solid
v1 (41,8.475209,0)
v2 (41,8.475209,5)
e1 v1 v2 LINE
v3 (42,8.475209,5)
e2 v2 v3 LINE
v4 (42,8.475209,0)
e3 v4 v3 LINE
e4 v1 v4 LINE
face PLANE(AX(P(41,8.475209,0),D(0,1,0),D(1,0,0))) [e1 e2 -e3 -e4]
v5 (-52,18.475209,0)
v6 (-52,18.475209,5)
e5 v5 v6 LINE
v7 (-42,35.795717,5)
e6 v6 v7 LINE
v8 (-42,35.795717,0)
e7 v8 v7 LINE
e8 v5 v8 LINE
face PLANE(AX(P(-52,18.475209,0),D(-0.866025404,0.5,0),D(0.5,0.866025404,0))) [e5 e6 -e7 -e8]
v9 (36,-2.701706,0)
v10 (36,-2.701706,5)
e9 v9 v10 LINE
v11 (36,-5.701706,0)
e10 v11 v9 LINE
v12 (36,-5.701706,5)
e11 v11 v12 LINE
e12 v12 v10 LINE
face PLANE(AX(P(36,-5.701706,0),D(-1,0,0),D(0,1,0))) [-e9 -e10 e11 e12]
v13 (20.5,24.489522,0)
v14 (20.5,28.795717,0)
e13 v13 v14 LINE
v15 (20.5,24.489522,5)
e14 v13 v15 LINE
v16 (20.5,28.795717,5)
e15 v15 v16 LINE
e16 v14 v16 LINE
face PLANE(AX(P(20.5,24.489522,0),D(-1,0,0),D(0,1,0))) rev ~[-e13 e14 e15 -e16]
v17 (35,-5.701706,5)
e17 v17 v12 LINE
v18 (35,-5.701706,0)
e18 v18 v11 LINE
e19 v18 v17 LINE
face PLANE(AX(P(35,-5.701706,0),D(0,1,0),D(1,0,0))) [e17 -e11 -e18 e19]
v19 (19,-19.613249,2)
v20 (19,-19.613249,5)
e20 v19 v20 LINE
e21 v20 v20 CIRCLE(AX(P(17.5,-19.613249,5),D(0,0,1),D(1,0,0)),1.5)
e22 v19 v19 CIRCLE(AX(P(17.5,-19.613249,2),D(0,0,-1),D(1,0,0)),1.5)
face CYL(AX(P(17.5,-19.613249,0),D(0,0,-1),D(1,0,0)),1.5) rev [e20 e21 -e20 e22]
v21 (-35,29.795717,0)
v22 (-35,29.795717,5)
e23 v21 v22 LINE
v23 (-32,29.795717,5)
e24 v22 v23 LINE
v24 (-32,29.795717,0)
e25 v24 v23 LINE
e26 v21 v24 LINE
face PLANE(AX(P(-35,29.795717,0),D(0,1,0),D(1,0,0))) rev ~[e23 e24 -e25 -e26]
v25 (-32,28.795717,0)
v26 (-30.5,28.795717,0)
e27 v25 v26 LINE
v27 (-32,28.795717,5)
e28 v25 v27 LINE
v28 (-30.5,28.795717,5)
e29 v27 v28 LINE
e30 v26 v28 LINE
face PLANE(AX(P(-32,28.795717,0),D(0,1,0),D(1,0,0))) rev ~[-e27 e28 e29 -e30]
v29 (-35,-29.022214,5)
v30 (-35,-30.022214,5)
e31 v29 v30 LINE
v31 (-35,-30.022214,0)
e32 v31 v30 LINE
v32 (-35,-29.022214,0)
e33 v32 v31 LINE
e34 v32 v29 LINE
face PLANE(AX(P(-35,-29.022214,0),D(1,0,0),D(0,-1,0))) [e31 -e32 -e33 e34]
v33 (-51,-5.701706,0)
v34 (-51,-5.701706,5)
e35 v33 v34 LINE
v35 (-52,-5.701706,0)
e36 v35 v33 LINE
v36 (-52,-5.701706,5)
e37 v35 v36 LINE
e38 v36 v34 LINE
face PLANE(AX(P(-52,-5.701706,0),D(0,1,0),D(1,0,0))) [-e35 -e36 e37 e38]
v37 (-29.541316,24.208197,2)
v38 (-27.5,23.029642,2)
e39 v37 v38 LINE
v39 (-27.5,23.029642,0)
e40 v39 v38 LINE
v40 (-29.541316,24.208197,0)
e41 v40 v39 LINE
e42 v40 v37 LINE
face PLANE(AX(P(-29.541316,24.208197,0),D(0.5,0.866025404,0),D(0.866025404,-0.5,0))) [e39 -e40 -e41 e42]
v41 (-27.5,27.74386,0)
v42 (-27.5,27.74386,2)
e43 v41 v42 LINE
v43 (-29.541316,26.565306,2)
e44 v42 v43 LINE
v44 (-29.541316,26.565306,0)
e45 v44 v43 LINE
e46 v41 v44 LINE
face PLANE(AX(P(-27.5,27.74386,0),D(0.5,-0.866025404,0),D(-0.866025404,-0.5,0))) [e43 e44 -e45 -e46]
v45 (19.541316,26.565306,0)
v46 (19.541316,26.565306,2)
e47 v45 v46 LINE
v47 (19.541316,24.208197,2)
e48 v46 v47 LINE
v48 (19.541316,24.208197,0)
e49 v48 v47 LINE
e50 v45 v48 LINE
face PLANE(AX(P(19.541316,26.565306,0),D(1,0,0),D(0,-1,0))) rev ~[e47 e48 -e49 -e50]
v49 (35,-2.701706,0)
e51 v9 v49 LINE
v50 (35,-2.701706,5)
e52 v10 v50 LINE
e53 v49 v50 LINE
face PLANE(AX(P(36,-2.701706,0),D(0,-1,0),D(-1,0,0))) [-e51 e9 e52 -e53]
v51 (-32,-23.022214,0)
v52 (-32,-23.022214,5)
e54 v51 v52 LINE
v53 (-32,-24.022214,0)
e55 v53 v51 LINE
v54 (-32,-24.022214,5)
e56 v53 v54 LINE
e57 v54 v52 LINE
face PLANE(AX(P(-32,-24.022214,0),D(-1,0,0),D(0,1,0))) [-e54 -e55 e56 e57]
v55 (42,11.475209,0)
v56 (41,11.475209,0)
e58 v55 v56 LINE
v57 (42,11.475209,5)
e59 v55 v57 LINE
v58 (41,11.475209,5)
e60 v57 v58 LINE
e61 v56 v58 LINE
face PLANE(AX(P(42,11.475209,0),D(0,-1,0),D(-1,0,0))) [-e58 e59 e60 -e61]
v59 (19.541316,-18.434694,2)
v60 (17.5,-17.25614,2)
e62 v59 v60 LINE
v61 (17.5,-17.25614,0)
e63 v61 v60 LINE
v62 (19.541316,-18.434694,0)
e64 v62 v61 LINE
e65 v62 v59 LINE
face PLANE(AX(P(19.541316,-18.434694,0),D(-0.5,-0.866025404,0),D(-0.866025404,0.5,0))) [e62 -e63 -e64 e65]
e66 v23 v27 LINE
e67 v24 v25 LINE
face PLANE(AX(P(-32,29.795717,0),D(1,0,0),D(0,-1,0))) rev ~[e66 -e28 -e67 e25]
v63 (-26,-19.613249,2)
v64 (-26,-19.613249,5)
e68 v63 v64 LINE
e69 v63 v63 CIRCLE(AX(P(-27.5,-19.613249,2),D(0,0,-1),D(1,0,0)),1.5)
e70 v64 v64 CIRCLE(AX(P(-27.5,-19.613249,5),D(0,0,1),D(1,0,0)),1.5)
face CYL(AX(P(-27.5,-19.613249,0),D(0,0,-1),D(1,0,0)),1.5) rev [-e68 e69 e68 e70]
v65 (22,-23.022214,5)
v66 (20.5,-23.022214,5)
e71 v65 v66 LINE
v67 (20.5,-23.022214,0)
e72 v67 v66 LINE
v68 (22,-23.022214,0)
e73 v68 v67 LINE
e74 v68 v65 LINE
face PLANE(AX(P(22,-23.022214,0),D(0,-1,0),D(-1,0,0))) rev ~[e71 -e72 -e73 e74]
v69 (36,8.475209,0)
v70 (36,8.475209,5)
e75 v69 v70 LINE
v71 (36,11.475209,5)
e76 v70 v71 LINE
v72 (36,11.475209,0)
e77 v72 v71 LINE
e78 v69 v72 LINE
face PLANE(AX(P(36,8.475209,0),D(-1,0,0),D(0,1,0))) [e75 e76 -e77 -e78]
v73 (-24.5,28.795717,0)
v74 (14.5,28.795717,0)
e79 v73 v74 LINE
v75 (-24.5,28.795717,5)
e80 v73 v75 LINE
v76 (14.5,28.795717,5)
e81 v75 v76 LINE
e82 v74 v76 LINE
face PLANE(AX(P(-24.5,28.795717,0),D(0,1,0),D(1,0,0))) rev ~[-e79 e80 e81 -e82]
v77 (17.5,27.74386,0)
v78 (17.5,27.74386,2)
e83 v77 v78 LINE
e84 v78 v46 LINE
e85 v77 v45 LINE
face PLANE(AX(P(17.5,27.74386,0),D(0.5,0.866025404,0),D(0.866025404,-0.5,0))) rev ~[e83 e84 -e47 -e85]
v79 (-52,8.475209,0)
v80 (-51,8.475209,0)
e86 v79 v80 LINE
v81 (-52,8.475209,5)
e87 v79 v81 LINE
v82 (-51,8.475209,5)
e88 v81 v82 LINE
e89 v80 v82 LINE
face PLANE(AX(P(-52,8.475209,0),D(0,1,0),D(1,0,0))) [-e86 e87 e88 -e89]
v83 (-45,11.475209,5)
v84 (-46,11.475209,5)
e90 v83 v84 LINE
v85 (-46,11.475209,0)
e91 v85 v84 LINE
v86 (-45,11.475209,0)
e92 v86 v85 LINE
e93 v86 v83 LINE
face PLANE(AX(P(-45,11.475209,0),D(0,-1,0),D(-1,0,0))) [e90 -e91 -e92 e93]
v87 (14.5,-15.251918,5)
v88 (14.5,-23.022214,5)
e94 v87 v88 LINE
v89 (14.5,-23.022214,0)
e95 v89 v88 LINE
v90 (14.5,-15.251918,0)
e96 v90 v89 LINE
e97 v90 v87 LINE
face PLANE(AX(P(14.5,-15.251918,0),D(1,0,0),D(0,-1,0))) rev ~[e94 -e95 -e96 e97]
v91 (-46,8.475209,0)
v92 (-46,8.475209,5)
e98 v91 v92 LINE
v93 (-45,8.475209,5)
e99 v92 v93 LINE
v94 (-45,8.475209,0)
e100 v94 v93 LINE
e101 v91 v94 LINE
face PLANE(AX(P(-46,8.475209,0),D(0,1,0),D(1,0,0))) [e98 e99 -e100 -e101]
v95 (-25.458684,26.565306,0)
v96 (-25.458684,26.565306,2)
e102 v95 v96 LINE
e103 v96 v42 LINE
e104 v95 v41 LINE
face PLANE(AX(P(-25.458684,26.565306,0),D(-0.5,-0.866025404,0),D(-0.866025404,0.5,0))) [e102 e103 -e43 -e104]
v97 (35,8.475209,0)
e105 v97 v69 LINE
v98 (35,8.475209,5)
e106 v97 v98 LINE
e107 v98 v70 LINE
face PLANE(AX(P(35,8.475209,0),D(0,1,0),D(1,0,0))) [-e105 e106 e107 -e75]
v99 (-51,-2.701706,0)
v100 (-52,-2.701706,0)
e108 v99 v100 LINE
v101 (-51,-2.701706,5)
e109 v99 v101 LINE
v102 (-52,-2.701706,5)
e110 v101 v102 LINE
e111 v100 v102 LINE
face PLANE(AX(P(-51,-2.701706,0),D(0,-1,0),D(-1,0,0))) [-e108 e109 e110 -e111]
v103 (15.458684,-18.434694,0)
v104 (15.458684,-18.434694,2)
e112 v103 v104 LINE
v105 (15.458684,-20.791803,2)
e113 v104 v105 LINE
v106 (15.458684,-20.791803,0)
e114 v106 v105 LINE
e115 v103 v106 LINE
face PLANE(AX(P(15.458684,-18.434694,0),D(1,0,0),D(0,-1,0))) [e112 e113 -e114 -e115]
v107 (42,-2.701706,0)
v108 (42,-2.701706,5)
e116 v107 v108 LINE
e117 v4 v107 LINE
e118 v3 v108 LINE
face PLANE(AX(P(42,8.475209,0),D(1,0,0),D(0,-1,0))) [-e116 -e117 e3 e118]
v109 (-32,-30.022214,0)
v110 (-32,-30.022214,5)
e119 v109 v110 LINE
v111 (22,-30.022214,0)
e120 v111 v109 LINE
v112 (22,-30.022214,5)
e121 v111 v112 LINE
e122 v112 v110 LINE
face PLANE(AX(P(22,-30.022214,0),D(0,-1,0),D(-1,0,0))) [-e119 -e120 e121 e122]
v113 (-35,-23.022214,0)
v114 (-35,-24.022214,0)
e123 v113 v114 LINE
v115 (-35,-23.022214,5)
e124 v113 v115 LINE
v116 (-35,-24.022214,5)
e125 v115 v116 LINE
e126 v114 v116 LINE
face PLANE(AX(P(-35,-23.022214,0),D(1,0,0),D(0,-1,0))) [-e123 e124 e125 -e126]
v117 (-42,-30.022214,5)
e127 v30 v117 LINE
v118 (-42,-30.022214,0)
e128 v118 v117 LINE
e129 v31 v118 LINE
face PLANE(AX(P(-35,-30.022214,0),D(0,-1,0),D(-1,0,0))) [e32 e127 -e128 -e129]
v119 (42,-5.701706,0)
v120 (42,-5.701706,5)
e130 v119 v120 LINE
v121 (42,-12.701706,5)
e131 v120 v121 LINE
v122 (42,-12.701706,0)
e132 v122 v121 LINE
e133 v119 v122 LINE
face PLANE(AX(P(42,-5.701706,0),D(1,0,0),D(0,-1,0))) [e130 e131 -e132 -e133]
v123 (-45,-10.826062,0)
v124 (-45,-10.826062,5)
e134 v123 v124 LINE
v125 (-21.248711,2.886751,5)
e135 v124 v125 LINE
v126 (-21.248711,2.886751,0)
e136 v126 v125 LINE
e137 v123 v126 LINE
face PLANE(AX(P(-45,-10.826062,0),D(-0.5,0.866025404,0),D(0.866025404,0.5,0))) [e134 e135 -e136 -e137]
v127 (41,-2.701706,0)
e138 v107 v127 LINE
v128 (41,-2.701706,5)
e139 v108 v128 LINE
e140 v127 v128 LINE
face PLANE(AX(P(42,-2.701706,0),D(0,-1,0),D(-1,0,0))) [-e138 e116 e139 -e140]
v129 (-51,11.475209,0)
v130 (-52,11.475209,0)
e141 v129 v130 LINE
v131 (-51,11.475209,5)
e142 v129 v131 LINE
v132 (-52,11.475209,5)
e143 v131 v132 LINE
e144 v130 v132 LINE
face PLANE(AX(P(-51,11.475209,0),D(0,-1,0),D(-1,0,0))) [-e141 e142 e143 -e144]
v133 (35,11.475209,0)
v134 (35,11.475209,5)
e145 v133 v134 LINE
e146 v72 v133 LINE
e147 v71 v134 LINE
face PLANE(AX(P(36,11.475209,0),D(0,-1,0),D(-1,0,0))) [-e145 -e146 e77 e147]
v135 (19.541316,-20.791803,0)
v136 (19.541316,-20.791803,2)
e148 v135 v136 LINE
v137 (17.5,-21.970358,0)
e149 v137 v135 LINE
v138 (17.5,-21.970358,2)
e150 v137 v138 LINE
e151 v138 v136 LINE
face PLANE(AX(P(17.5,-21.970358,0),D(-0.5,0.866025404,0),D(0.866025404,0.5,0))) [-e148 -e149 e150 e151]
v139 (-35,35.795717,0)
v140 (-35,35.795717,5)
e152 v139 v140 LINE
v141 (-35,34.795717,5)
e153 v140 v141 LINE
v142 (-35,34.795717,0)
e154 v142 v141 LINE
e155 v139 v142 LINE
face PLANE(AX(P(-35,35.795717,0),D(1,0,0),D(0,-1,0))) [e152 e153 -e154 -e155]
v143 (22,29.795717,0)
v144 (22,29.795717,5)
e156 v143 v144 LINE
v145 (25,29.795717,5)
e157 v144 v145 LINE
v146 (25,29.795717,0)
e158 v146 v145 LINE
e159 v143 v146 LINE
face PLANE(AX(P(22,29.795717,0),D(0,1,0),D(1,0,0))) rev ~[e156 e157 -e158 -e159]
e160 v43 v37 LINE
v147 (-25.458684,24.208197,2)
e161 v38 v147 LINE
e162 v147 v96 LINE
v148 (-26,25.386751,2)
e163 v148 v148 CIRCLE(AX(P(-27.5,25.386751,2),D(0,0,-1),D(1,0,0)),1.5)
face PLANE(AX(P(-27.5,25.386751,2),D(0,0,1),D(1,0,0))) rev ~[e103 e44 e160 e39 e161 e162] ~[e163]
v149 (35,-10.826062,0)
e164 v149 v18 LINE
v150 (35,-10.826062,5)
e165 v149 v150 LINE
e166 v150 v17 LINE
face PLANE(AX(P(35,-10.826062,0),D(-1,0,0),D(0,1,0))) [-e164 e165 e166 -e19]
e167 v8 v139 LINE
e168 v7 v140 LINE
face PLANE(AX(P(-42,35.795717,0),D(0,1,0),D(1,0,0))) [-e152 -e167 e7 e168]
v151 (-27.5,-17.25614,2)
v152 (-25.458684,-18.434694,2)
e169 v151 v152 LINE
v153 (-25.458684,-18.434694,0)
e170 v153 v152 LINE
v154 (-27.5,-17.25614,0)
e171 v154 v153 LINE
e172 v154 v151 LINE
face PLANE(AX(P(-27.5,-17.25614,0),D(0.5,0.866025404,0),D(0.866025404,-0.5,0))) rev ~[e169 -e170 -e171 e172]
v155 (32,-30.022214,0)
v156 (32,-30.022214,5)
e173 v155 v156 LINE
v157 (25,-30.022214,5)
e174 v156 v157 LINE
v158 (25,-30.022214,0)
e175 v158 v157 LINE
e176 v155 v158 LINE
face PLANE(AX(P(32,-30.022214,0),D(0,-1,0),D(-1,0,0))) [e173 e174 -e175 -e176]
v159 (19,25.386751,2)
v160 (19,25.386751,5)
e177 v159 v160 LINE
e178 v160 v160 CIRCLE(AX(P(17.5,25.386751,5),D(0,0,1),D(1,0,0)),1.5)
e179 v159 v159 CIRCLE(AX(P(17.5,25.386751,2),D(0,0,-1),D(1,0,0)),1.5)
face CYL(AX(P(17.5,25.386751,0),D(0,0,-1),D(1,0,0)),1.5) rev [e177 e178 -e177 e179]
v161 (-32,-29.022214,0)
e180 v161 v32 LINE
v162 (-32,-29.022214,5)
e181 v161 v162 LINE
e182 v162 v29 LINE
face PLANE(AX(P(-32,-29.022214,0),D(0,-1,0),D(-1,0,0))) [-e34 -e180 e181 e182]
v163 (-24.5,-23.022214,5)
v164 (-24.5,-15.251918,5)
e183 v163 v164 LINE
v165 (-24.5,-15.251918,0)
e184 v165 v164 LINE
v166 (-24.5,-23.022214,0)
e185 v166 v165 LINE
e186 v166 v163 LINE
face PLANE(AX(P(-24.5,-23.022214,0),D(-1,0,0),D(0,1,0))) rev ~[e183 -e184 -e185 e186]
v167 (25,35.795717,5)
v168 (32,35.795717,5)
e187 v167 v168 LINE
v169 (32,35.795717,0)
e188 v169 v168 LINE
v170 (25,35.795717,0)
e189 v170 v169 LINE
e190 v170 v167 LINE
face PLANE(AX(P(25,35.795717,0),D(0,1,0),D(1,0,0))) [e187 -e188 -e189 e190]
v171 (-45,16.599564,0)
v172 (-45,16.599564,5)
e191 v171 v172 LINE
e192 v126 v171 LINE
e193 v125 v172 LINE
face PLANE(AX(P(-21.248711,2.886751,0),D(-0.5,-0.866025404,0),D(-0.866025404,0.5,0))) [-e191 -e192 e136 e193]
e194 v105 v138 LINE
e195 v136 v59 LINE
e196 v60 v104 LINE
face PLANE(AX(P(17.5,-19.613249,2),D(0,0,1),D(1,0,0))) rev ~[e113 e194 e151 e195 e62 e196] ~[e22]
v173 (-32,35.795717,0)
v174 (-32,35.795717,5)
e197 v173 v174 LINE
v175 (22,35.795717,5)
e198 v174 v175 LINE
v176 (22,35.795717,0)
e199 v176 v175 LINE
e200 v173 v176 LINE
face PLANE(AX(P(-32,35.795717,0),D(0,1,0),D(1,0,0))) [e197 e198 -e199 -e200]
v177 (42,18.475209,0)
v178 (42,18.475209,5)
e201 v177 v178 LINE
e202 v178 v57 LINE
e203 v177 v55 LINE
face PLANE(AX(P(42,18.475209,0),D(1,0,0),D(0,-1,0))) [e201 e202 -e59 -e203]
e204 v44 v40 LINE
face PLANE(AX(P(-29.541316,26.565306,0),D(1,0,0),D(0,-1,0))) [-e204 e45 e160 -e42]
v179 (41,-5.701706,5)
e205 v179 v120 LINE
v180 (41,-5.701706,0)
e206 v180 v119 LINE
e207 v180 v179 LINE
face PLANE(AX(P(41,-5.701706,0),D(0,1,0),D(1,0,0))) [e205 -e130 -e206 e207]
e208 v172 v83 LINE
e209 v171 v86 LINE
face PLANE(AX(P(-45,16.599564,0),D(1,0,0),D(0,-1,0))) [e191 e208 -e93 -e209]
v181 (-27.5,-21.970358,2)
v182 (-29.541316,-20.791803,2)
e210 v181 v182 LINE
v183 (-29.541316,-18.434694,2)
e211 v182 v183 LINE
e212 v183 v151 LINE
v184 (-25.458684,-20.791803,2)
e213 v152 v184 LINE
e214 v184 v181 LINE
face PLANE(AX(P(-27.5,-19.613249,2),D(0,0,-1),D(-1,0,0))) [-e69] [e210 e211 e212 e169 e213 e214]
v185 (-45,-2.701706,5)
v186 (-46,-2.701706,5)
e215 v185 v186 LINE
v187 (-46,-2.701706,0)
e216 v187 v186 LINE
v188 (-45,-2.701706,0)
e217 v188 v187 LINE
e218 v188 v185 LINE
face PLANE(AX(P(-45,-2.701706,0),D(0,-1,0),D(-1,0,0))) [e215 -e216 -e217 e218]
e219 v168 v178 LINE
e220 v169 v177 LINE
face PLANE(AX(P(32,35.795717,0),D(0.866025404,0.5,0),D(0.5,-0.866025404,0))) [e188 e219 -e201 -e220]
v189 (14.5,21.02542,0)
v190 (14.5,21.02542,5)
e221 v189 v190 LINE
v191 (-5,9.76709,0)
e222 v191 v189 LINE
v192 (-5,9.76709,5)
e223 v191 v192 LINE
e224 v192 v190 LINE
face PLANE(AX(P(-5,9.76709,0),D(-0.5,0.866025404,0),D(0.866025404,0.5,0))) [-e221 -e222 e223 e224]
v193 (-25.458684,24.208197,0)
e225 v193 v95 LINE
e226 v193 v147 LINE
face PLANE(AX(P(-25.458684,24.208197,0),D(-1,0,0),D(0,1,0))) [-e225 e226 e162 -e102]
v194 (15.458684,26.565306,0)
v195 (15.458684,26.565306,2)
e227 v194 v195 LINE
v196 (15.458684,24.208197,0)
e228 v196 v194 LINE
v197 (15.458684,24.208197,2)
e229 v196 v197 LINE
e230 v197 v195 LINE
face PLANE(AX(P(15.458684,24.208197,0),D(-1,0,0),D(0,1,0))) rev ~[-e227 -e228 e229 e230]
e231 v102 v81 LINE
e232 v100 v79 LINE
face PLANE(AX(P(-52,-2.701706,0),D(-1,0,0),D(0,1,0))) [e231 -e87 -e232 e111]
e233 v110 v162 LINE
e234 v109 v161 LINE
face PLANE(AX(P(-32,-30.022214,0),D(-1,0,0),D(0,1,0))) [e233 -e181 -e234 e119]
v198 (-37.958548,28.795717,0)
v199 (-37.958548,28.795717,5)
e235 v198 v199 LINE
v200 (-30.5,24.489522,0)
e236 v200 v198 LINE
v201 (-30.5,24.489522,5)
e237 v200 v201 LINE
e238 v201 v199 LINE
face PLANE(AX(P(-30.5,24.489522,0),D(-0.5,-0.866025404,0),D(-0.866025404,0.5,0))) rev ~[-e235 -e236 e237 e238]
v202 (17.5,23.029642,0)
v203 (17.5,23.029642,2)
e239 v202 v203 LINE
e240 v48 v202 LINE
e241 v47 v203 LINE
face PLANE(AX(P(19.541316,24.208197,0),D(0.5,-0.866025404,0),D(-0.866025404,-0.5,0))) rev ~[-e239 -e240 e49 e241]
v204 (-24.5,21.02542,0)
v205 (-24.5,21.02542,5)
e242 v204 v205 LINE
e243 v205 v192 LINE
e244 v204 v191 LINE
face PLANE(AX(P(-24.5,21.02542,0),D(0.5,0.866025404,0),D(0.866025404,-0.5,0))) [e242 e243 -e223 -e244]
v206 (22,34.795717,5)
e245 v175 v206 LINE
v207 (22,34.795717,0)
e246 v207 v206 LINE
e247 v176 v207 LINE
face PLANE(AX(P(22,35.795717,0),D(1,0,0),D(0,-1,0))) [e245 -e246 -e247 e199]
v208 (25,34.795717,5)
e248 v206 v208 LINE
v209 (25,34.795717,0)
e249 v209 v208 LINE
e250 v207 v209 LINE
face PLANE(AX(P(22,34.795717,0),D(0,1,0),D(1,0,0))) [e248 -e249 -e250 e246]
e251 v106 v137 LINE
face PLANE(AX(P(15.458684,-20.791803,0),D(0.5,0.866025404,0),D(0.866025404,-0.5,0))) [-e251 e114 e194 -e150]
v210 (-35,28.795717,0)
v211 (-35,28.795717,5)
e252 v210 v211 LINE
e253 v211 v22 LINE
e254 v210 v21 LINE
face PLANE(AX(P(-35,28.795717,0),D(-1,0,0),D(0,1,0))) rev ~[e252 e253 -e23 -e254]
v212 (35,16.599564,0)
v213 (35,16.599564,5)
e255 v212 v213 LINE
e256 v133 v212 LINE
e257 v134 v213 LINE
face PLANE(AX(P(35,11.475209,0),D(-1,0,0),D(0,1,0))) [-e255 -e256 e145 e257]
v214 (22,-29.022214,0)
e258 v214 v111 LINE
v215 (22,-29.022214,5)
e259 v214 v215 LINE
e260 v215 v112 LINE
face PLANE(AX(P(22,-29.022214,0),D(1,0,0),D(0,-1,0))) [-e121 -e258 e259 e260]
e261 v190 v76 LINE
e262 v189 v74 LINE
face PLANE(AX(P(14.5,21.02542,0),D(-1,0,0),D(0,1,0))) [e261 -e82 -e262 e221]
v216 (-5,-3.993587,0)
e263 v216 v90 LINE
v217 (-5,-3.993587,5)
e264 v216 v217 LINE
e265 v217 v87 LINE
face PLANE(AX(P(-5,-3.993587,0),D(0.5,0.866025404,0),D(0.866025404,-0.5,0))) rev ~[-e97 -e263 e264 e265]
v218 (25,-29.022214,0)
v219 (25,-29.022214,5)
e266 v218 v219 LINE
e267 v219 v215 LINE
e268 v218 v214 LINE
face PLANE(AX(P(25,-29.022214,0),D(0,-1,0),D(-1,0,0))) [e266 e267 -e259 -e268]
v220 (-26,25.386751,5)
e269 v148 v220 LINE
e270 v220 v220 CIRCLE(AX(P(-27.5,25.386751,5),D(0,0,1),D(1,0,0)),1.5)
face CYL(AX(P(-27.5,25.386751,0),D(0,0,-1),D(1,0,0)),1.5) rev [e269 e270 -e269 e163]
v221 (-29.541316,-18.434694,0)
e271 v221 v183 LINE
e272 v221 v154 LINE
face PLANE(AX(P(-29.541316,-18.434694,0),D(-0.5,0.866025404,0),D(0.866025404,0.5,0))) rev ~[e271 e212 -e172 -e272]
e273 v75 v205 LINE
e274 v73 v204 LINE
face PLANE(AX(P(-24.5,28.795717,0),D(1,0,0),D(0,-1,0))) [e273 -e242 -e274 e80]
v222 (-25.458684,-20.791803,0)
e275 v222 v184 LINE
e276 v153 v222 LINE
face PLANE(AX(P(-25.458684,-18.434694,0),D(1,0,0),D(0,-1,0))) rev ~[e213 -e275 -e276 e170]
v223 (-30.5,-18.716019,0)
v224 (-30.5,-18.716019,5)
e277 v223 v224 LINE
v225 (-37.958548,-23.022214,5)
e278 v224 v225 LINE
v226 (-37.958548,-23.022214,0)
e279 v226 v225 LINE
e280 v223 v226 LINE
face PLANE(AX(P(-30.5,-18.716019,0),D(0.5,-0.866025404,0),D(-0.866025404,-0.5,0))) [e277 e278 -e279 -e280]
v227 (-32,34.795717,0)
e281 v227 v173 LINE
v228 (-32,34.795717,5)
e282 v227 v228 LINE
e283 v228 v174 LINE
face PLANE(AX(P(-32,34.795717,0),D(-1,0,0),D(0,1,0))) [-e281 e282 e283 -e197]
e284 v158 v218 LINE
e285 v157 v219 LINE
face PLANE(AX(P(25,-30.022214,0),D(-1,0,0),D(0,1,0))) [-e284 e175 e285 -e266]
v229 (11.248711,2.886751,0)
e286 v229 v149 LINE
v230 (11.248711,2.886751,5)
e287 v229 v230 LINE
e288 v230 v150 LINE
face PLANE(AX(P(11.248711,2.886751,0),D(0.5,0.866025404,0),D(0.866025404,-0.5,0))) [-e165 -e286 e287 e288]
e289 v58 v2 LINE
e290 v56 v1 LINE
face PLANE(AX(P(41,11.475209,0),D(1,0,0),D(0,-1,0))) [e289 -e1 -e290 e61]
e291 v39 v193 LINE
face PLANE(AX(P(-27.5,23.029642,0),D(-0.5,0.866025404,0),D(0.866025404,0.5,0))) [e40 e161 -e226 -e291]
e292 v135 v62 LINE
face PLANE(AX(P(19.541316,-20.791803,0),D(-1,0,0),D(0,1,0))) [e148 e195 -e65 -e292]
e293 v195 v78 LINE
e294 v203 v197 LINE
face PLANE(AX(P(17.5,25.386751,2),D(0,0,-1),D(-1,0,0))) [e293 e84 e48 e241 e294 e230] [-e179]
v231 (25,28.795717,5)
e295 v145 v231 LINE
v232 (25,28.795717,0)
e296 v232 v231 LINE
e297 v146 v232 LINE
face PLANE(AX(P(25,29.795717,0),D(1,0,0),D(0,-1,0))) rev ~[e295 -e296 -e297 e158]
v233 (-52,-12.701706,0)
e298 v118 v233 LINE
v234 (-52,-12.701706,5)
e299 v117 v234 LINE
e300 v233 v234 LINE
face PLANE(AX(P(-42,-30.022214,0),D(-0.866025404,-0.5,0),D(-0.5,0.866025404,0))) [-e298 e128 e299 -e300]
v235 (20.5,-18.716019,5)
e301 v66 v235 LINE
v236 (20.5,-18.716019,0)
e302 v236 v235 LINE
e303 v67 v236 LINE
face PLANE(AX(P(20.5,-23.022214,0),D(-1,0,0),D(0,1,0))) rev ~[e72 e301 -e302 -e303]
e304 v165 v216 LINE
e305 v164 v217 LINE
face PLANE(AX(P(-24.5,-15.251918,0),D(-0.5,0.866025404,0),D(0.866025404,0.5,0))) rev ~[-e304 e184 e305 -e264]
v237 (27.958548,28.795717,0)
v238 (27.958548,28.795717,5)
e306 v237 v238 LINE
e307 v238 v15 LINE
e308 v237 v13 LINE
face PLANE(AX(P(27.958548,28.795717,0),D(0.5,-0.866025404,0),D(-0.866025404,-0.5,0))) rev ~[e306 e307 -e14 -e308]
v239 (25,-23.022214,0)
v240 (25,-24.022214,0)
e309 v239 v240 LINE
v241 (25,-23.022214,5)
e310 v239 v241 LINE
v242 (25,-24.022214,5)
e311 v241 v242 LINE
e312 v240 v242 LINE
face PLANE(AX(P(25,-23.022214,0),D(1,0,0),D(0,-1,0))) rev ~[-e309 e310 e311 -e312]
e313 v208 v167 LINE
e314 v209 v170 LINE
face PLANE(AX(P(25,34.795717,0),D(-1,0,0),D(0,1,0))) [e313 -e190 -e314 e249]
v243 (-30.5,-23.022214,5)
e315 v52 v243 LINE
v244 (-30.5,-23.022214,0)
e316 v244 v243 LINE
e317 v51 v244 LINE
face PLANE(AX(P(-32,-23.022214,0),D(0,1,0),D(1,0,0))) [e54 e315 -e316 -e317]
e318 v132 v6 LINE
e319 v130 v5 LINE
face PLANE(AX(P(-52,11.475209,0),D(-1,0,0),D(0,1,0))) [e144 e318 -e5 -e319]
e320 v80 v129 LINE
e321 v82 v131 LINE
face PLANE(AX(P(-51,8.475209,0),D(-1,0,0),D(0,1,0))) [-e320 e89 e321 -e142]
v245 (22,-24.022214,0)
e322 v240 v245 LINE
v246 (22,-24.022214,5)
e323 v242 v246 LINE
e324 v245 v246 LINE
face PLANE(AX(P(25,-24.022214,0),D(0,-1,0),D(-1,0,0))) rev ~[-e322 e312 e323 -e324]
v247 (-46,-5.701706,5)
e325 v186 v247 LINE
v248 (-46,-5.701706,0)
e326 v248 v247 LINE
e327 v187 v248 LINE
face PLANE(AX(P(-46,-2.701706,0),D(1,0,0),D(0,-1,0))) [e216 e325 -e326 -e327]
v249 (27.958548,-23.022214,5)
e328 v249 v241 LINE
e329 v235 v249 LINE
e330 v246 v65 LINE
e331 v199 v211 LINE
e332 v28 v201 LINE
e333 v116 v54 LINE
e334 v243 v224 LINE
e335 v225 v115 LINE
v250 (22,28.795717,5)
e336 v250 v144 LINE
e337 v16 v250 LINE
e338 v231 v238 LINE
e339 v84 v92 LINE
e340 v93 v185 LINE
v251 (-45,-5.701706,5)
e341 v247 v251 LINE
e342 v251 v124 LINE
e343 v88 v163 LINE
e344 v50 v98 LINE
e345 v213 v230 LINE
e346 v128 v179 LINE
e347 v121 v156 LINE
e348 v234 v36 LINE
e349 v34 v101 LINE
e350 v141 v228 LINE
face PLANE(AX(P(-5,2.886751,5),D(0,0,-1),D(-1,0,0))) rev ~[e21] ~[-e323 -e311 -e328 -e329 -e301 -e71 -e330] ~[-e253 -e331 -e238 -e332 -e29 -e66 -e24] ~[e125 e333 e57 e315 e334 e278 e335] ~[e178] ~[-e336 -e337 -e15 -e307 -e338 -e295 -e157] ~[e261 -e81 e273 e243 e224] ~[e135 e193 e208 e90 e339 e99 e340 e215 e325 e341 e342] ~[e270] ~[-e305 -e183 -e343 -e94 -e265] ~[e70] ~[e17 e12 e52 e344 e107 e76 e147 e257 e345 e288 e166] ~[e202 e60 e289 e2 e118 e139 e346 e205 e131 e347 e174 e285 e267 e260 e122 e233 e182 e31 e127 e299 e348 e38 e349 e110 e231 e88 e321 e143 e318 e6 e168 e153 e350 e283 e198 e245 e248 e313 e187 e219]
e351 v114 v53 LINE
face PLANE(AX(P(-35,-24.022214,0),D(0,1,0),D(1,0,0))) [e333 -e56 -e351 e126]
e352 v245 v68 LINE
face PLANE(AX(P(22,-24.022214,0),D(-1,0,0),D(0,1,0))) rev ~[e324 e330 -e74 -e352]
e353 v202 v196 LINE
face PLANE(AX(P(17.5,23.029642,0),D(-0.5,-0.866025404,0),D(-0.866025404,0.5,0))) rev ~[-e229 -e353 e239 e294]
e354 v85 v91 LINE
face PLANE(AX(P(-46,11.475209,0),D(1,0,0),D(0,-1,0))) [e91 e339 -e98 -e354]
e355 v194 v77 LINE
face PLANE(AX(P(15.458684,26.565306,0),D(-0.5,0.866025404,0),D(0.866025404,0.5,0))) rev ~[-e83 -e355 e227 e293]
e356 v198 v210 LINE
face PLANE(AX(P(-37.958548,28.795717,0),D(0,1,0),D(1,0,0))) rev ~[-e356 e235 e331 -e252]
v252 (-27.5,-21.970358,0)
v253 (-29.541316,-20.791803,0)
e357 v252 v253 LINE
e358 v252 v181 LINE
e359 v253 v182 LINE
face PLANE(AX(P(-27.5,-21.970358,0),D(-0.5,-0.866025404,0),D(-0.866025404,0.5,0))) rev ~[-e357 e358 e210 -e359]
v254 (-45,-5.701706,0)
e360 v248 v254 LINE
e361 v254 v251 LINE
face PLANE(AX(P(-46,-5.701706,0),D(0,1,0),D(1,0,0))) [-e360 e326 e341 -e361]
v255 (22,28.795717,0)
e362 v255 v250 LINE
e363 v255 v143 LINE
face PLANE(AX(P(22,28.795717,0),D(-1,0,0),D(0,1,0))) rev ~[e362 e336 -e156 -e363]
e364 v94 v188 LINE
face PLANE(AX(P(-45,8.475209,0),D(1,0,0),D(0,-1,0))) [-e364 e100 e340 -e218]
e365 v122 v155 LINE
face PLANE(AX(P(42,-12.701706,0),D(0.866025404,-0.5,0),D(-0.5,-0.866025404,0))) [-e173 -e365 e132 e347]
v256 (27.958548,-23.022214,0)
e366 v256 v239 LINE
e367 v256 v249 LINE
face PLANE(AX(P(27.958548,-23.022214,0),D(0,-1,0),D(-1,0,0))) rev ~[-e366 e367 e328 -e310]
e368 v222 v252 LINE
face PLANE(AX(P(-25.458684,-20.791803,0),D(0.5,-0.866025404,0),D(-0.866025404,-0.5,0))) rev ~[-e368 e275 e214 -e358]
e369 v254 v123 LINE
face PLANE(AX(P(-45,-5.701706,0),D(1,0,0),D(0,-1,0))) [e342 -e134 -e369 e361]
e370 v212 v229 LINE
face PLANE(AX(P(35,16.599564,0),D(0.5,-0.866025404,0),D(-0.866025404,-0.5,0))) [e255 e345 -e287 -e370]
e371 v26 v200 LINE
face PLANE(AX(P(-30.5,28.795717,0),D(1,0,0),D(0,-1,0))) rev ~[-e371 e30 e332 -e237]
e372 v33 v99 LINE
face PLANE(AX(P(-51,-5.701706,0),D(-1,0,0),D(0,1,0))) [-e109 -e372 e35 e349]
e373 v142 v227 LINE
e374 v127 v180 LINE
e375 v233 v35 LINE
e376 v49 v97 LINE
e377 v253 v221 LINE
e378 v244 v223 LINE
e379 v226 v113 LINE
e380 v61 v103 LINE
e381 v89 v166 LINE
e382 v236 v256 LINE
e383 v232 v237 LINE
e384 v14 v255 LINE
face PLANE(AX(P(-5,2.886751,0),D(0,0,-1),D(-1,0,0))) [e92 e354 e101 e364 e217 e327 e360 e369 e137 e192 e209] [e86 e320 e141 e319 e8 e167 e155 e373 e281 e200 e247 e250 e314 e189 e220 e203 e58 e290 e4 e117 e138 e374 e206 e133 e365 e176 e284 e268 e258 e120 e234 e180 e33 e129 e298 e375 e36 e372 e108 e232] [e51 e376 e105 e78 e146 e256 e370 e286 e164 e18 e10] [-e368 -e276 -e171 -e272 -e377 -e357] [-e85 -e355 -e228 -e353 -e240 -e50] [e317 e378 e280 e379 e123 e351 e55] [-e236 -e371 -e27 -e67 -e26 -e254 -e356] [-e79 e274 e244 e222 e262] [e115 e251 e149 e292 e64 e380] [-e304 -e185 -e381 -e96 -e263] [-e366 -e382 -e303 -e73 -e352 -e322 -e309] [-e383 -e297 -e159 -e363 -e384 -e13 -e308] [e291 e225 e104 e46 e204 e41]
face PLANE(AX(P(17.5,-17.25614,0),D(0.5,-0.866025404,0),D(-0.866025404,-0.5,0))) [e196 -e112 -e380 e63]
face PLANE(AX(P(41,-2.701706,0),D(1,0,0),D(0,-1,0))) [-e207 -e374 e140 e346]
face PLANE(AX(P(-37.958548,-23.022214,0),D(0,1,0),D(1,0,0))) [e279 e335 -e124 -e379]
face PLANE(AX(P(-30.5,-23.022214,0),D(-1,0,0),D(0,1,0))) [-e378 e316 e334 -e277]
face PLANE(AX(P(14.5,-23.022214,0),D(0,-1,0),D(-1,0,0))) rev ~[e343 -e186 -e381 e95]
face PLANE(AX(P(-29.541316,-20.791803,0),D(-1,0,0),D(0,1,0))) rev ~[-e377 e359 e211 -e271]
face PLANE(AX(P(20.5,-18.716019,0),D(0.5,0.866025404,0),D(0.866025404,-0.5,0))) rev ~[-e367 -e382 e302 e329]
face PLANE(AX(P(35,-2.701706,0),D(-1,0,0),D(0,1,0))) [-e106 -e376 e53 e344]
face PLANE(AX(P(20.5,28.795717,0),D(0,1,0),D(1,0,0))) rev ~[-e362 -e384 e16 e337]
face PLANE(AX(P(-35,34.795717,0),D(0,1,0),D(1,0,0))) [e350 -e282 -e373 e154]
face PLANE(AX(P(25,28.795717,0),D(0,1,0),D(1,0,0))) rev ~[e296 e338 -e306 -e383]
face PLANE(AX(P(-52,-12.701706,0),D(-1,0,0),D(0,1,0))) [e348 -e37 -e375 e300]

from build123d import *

# Parameters (mm, degrees)
ESQUISSE1_R             = 1.5
BOSS_EXTRU_2_DEPTH      = 5
ENL_V_MAT_EXTRU_2_DEPTH = 2


with BuildPart() as part:
    # Esquisse1 → Boss.-Extru.2 (new body)
    with BuildSketch(Plane.XY):
        Polygon((22, -30.022213998), (-32, -30.022213998), (-32, -29.022213998), (-35, -29.022213998), (-35, -30.022213998), (-42, -30.022213998), (-52, -12.701705922), (-52, -5.701705922), (-51, -5.701705922), (-51, -2.701705922), (-52, -2.701705922), (-52, 8.475208614), (-51, 8.475208614), (-51, 11.475208614), (-52, 11.475208614), (-52, 18.475208614), (-42, 35.79571669), (-35, 35.79571669), (-35, 34.79571669), (-32, 34.79571669), (-32, 35.79571669), (22, 35.79571669), (22, 34.79571669), (25, 34.79571669), (25, 35.79571669), (32, 35.79571669), (42, 18.475208614), (42, 11.475208614), (41, 11.475208614), (41, 8.475208614), (42, 8.475208614), (42, -2.701705922), (41, -2.701705922), (41, -5.701705922), (42, -5.701705922), (42, -12.701705922), (32, -30.022213998), (25, -30.022213998), (25, -29.022213998), (22, -29.022213998), align=None)
        with Locations((17.5, 25.386751346)):
            Circle(ESQUISSE1_R, mode=Mode.SUBTRACT)
        with Locations((-27.5, 25.386751346)):
            Circle(ESQUISSE1_R, mode=Mode.SUBTRACT)
        with Locations((17.5, -19.613248654)):
            Circle(ESQUISSE1_R, mode=Mode.SUBTRACT)
        with Locations((-27.5, -19.613248654)):
            Circle(ESQUISSE1_R, mode=Mode.SUBTRACT)
        Polygon((-45, 8.475208614), (-45, -2.701705922), (-46, -2.701705922), (-46, -5.701705922), (-45, -5.701705922), (-45, -10.826061575), (-21.248711306, 2.886751346), (-45, 16.599564267), (-45, 11.475208614), (-46, 11.475208614), (-46, 8.475208614), align=None, mode=Mode.SUBTRACT)
        Polygon((35, 16.599564267), (11.248711306, 2.886751346), (35, -10.826061575), (35, -5.701705922), (36, -5.701705922), (36, -2.701705922), (35, -2.701705922), (35, 8.475208614), (36, 8.475208614), (36, 11.475208614), (35, 11.475208614), align=None, mode=Mode.SUBTRACT)
        Polygon((-37.958548116, -23.022213998), (-35, -23.022213998), (-35, -24.022213998), (-32, -24.022213998), (-32, -23.022213998), (-30.5, -23.022213998), (-30.5, -18.716019236), align=None, mode=Mode.SUBTRACT)
        Polygon((14.5, -23.022213998), (-5, -23.022213998), (-24.5, -23.022213998), (-24.5, -15.25191762), (-5, -3.993587371), (14.5, -15.25191762), align=None, mode=Mode.SUBTRACT)
        Polygon((-32, 29.79571669), (-32, 28.79571669), (-30.5, 28.79571669), (-30.5, 24.489521927), (-37.958548116, 28.79571669), (-35, 28.79571669), (-35, 29.79571669), align=None, mode=Mode.SUBTRACT)
        Polygon((27.958548116, 28.79571669), (20.5, 24.489521927), (20.5, 28.79571669), (22, 28.79571669), (22, 29.79571669), (25, 29.79571669), (25, 28.79571669), align=None, mode=Mode.SUBTRACT)
        Polygon((22, -24.022213998), (22, -23.022213998), (20.5, -23.022213998), (20.5, -18.716019236), (27.958548116, -23.022213998), (25, -23.022213998), (25, -24.022213998), align=None, mode=Mode.SUBTRACT)
        Polygon((-24.5, 28.79571669), (-24.5, 21.025420312), (-5, 9.767090063), (14.5, 21.025420312), (14.5, 28.79571669), (-5, 28.79571669), align=None, mode=Mode.SUBTRACT)
    extrude(amount=BOSS_EXTRU_2_DEPTH)

    # Esquisse4 → Enlèv. mat.-Extru.2 (cut)
    with BuildSketch(Plane(origin=(0, 0, 0), x_dir=(-1, 0, 0), z_dir=(0, 0, -1))):
        Polygon((-17.5, 23.029642358), (-15.458683737, 24.208196852), (-15.458683737, 26.56530584), (-17.5, 27.743860334), (-19.541316263, 26.56530584), (-19.541316263, 24.208196852), align=None)
        Polygon((29.541316263, 24.208196852), (27.5, 23.029642358), (25.458683737, 24.208196852), (25.458683737, 26.56530584), (27.5, 27.743860334), (29.541316263, 26.56530584), align=None)
        Polygon((27.5, -17.256139666), (25.458683737, -18.43469416), (25.458683737, -20.791803148), (27.5, -21.970357642), (29.541316263, -20.791803148), (29.541316263, -18.43469416), align=None)
        Polygon((-19.541316263, -18.43469416), (-17.5, -17.256139666), (-15.458683737, -18.43469416), (-15.458683737, -20.791803148), (-17.5, -21.970357642), (-19.541316263, -20.791803148), align=None)
    extrude(amount=-ENL_V_MAT_EXTRU_2_DEPTH, mode=Mode.SUBTRACT)


solid = part.part
